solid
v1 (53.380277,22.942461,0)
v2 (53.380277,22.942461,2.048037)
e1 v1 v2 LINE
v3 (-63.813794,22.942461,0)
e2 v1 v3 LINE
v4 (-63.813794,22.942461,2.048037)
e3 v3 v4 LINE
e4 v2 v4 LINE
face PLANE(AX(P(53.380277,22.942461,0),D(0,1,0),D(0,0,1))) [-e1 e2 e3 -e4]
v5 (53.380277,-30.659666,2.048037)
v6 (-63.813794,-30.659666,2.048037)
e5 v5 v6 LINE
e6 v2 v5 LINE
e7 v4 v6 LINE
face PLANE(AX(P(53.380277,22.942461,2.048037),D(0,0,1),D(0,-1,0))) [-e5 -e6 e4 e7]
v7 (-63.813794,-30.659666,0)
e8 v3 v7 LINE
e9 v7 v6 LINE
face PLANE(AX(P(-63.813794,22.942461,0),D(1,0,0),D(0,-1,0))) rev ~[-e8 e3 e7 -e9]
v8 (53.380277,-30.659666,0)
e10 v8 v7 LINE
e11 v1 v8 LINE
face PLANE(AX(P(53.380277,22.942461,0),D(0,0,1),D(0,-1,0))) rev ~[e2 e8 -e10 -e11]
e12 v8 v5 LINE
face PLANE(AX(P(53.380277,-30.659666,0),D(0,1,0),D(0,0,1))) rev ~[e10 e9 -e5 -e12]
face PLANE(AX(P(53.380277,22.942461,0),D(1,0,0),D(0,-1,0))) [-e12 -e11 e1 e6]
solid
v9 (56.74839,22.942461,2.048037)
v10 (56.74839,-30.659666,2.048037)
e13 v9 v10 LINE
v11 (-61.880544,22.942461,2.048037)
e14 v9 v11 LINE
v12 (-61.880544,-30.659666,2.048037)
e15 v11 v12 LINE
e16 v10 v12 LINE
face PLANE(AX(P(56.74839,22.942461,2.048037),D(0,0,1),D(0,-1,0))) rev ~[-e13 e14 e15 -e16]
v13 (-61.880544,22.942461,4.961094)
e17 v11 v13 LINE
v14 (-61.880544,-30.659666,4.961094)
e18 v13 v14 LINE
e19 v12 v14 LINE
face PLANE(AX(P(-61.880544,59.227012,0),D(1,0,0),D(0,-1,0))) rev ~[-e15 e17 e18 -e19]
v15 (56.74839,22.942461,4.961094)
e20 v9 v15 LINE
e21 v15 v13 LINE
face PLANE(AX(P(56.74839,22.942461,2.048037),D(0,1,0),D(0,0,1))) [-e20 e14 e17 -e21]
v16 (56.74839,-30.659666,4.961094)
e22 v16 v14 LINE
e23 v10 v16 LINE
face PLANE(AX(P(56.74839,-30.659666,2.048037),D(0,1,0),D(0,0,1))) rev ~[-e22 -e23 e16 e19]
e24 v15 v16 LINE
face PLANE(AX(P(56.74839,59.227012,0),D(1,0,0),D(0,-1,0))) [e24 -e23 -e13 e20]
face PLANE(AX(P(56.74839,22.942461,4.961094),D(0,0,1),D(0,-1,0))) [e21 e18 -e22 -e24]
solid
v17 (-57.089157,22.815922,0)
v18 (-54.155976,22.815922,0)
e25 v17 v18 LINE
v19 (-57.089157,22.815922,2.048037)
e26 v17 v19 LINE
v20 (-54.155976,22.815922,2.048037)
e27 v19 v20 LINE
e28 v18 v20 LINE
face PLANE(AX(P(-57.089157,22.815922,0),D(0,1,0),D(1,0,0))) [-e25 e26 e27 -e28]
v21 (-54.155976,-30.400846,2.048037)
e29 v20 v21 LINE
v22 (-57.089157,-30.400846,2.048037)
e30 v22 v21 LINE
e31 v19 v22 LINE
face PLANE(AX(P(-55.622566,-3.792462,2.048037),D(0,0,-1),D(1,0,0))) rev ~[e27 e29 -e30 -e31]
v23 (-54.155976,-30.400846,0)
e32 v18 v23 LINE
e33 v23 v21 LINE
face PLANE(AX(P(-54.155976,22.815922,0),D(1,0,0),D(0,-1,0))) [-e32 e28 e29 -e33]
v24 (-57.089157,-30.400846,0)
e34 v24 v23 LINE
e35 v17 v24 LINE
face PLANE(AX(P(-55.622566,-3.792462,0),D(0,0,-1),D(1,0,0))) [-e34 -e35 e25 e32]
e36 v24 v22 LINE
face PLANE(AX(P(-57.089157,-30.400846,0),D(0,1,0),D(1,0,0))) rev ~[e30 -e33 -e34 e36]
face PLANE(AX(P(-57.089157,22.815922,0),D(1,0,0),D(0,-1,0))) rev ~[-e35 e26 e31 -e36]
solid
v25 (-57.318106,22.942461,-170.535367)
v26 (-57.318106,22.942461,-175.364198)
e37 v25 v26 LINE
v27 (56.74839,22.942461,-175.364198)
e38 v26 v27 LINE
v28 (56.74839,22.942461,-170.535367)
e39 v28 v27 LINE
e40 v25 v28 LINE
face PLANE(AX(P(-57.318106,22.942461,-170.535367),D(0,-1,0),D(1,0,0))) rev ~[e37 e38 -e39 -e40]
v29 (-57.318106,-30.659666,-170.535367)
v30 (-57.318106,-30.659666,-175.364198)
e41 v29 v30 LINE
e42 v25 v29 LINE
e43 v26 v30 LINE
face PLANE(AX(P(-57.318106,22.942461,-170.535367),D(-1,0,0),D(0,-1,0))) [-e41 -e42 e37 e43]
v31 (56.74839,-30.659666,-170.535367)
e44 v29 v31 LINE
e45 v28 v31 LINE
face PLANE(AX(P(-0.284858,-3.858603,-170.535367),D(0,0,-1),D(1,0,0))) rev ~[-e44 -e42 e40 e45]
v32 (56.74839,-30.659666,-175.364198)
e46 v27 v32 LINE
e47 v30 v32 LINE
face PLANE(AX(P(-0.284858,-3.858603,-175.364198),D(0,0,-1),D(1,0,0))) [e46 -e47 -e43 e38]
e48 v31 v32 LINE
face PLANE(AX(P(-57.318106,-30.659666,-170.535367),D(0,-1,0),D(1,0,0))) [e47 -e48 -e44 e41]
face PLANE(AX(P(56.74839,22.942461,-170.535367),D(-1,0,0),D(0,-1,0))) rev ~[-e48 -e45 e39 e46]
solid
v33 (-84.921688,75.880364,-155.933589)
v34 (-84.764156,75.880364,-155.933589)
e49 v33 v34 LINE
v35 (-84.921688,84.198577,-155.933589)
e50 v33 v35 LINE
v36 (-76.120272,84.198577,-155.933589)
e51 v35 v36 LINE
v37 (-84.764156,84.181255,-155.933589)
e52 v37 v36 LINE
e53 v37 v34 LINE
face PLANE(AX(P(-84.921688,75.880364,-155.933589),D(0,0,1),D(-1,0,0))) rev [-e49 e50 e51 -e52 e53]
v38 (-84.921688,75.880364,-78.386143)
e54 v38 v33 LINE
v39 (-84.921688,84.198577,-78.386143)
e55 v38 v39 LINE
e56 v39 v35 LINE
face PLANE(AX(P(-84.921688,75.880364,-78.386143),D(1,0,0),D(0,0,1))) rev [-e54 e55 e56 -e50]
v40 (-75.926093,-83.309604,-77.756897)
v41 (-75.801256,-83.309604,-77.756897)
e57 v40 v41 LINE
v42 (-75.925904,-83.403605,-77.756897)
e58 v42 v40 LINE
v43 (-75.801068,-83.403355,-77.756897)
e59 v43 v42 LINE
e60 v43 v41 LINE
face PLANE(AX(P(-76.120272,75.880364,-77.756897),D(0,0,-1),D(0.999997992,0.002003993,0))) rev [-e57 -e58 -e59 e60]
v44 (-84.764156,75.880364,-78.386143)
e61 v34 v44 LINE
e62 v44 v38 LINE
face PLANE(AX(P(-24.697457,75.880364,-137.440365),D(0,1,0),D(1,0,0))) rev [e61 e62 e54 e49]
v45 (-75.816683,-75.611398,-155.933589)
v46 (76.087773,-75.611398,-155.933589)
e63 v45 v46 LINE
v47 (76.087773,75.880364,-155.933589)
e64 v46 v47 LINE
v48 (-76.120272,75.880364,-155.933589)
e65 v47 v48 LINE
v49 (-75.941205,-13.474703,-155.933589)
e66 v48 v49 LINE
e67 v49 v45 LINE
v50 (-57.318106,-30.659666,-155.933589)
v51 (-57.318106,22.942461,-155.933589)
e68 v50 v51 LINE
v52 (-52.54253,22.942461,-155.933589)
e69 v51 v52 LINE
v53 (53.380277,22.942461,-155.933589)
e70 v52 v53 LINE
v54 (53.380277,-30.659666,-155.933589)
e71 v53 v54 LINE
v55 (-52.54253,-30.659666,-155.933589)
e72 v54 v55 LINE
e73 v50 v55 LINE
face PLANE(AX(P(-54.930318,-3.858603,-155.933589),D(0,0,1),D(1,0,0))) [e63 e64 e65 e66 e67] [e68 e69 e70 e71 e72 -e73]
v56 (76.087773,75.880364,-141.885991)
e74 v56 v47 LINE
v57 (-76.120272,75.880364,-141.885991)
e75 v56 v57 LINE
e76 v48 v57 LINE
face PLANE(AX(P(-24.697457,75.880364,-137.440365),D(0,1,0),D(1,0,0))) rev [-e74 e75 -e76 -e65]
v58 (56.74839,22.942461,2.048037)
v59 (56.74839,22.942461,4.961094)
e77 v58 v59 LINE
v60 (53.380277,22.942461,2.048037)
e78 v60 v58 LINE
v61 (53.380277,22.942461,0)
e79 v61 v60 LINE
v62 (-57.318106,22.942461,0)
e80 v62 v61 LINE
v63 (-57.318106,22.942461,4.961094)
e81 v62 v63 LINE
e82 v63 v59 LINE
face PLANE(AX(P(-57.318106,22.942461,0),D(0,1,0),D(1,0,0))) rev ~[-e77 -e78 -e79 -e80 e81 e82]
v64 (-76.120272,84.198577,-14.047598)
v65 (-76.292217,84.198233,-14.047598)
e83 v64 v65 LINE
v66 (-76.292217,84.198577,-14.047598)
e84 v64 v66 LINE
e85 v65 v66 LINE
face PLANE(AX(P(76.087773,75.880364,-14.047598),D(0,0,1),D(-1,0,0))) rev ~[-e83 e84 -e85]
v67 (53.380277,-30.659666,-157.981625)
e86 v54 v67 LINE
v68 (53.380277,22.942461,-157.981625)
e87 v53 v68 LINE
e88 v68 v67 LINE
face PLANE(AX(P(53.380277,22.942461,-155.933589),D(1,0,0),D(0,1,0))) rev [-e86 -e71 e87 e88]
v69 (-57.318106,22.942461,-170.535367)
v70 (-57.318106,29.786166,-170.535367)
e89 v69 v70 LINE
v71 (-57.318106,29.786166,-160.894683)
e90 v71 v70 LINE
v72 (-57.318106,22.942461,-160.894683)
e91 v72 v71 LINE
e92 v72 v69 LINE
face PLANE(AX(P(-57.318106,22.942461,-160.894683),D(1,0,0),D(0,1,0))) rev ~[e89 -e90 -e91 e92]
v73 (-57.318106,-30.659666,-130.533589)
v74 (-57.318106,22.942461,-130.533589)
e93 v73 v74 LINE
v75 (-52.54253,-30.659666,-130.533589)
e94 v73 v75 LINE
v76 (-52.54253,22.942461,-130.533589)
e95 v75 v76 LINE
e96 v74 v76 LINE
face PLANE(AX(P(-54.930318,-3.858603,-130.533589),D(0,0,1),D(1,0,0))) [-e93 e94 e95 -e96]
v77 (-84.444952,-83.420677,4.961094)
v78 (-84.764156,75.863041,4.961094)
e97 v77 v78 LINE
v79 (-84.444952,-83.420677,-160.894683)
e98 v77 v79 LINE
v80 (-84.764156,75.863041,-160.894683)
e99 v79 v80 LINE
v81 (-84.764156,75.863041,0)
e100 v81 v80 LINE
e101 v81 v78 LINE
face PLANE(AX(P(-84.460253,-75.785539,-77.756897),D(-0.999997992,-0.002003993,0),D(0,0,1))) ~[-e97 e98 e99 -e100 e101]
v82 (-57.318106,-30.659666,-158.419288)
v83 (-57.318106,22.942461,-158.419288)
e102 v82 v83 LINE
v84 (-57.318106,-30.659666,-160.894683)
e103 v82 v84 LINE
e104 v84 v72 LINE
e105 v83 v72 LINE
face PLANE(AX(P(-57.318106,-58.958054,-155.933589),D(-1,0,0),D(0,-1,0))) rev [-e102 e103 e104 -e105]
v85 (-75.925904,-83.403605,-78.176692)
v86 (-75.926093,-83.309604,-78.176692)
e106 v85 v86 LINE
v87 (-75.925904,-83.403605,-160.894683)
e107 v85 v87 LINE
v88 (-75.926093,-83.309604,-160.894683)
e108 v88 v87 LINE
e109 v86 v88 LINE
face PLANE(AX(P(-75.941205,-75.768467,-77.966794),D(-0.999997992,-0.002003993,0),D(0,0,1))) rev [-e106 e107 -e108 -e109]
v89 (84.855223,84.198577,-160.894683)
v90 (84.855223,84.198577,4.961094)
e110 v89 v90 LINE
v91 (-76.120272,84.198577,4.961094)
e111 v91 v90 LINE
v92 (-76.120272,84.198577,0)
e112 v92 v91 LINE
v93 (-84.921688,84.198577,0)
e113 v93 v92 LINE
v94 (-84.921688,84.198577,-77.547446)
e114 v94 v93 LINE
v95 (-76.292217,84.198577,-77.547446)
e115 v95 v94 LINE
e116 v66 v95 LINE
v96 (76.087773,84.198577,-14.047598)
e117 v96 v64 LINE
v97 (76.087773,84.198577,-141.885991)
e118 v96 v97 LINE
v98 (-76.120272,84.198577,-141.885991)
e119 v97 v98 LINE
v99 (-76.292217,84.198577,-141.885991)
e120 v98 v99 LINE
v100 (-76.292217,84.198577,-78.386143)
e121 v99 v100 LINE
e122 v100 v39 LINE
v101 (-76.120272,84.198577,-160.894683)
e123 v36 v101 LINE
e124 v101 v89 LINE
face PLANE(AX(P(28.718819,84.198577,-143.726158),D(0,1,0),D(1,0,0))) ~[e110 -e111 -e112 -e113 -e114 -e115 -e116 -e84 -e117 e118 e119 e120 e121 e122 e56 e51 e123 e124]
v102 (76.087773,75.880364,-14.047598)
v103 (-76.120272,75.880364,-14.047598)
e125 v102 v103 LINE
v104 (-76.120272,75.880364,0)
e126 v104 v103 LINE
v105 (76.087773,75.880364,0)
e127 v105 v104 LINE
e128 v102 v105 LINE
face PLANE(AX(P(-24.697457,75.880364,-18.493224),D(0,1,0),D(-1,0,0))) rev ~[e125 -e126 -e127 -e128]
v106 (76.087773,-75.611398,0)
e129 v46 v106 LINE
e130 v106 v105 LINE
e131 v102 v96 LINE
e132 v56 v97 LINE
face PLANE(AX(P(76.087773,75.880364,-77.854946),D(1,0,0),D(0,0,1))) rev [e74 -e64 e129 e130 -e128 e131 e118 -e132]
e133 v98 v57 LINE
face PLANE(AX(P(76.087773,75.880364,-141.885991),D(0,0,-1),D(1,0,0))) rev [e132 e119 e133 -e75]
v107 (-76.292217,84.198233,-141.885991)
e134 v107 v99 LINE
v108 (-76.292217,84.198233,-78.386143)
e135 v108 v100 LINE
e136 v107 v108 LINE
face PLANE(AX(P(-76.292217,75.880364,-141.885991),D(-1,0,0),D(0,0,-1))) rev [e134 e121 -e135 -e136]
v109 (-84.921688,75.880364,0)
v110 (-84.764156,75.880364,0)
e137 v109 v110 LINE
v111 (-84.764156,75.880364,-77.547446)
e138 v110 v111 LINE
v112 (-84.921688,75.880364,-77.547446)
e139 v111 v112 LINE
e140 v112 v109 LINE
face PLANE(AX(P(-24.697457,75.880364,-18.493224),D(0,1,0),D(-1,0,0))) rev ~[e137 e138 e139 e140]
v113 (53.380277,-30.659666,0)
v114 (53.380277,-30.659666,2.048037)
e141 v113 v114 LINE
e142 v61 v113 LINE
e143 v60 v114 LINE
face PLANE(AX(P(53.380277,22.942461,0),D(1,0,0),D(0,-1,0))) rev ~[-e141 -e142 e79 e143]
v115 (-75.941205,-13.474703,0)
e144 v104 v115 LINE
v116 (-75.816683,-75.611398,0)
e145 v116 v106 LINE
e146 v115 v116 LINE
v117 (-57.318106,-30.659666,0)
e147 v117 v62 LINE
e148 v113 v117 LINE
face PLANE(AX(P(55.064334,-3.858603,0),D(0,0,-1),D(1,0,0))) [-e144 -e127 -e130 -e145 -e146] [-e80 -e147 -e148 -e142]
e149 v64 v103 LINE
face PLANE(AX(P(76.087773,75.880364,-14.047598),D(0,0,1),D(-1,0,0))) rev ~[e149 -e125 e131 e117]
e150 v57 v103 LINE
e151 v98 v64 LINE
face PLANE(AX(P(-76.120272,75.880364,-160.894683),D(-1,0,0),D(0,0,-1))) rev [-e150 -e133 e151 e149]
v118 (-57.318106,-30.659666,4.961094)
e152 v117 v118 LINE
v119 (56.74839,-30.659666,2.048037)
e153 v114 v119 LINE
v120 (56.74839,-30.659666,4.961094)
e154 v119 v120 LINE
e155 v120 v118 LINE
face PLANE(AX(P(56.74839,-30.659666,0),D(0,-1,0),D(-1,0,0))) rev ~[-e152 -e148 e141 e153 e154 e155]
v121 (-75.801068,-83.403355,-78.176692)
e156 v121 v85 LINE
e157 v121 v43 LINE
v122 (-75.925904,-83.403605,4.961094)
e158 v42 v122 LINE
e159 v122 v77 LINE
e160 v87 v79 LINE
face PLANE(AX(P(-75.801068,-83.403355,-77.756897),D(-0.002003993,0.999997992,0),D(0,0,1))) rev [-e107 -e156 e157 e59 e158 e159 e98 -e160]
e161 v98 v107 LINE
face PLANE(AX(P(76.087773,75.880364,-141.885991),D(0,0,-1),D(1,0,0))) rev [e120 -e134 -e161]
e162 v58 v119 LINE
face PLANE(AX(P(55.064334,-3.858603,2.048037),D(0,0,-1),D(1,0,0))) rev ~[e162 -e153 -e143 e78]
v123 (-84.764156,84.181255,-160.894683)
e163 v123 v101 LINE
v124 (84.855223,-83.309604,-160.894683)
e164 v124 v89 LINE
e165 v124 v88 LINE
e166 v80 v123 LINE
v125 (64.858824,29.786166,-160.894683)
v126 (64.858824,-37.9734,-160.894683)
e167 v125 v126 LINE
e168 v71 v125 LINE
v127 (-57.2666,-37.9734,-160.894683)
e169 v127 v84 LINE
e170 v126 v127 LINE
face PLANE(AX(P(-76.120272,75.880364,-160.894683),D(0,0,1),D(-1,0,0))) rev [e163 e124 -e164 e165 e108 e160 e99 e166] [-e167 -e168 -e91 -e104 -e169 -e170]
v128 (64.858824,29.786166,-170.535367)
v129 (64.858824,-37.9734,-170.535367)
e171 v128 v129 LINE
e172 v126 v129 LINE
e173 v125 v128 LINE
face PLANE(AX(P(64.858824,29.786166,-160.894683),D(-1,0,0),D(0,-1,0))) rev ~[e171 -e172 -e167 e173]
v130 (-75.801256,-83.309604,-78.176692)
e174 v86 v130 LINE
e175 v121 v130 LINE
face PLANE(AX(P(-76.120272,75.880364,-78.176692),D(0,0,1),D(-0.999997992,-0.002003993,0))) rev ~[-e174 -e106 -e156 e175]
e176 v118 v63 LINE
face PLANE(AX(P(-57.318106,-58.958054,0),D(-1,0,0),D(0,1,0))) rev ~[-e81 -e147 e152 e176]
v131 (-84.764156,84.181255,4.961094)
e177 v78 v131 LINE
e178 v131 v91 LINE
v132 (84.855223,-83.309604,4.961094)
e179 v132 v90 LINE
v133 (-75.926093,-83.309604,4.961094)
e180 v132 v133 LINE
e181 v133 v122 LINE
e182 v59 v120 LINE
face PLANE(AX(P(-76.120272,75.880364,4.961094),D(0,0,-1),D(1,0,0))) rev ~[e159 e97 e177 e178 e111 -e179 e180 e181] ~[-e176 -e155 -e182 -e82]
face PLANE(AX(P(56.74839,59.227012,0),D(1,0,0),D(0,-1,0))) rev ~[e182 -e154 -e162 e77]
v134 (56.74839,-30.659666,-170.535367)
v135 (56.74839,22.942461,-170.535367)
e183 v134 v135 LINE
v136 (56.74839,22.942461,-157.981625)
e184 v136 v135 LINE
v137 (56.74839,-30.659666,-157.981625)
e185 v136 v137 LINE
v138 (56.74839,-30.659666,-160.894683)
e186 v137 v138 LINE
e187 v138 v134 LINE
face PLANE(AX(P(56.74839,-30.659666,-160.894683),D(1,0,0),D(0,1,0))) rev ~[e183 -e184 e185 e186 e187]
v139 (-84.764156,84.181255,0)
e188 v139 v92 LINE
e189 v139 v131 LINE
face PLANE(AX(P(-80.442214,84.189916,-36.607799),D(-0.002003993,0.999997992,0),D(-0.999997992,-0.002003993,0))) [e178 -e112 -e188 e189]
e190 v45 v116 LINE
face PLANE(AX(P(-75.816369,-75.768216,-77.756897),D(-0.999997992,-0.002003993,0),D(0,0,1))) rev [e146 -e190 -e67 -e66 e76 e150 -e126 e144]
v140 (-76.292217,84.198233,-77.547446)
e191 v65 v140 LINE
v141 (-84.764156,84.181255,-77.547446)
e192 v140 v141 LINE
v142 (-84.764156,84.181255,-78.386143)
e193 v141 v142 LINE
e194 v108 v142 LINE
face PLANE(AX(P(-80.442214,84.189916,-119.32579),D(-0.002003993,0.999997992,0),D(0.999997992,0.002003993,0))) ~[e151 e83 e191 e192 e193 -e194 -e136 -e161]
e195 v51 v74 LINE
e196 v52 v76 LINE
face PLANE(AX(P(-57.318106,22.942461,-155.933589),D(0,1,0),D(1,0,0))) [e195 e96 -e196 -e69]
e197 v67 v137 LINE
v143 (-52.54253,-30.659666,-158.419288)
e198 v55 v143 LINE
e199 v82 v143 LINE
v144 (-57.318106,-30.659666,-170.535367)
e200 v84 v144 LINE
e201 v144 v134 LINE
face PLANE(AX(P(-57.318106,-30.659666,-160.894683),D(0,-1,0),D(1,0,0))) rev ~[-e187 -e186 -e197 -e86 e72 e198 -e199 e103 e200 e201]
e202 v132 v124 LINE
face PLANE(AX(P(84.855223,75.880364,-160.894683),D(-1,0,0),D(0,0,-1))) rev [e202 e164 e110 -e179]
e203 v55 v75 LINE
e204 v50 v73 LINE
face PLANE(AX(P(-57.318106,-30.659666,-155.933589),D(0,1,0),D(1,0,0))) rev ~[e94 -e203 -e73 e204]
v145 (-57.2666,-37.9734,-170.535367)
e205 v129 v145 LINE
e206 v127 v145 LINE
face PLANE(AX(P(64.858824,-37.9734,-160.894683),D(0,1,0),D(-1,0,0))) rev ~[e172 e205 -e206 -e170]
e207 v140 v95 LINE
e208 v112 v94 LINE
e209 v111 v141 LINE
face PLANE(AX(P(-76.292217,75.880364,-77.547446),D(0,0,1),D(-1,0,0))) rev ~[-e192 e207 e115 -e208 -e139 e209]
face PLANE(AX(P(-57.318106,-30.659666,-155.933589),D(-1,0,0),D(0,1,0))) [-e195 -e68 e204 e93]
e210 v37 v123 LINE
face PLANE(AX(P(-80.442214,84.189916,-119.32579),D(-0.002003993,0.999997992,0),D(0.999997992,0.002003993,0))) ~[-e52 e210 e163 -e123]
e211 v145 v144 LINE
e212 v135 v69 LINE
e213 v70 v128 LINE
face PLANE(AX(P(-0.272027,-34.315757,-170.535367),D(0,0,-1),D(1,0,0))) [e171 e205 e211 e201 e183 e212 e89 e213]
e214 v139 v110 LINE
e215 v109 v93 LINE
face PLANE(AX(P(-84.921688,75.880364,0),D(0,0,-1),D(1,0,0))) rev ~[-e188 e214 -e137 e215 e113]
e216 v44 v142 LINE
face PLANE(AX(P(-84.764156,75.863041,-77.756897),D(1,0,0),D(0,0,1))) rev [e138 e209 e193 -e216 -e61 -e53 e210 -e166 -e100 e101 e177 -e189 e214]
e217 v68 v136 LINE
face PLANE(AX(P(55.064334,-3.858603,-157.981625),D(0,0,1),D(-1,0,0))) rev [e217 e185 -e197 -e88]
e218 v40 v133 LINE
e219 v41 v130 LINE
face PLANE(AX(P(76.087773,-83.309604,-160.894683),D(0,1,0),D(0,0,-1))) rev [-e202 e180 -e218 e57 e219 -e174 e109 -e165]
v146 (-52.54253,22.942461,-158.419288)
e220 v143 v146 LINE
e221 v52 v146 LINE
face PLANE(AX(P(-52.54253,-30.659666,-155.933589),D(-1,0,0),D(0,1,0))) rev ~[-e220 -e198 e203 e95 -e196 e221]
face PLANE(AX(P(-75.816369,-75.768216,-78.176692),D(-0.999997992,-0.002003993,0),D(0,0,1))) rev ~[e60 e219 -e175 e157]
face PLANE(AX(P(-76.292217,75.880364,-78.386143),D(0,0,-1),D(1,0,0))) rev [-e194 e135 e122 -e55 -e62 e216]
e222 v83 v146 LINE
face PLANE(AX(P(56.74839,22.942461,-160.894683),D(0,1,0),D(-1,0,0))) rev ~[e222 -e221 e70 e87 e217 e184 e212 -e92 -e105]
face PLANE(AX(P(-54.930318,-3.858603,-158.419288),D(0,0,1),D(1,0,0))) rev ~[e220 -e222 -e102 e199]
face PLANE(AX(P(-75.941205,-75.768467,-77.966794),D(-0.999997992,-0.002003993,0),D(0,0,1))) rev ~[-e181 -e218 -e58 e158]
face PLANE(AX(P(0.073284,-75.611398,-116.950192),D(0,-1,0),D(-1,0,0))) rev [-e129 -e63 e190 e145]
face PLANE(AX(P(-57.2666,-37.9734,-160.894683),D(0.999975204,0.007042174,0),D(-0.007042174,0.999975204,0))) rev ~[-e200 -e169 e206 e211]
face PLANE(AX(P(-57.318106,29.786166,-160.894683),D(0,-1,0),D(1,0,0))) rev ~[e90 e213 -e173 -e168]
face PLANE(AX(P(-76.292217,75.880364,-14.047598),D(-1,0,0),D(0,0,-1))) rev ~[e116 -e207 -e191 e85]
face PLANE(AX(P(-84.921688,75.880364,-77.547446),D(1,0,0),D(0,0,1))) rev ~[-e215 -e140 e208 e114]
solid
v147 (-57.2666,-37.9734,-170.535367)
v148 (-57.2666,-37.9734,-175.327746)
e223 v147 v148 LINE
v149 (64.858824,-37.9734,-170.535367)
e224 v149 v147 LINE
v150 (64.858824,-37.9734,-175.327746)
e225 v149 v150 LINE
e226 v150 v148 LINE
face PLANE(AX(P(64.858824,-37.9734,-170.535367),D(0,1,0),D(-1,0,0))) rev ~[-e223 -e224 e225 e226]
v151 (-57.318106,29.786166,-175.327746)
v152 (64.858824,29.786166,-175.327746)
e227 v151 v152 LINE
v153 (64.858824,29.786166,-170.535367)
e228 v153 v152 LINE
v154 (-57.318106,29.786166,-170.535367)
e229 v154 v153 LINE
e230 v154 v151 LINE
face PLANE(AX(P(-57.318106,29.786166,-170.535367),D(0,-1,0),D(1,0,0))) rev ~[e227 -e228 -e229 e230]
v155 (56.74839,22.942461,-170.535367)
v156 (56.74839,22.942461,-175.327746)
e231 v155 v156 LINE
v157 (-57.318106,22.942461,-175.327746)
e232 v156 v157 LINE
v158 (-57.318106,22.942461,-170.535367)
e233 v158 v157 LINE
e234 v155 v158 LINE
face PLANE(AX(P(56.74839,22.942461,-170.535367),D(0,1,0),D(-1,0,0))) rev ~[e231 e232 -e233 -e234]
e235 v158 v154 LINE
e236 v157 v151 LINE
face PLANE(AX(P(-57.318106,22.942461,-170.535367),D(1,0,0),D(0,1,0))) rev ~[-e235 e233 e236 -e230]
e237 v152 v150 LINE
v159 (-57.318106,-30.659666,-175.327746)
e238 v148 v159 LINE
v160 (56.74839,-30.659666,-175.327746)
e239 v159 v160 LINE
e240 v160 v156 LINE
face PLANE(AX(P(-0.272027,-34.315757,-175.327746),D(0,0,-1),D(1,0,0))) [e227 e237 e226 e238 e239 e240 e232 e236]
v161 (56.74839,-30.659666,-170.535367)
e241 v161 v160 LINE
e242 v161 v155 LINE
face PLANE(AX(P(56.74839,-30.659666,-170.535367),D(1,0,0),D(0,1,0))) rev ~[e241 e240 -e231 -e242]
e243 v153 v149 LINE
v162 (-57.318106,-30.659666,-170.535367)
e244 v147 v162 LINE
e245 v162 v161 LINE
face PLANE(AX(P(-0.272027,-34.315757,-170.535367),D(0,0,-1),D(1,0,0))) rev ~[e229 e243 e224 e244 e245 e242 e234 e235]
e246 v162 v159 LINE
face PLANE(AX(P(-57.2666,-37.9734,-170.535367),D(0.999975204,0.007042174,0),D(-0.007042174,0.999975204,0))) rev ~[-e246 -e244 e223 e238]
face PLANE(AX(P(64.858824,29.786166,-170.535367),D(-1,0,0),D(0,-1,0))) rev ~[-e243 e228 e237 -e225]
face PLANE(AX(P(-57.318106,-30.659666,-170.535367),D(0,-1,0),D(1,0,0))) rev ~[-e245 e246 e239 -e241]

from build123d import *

# Parameters (mm, degrees)
F1_DEPTH       = 4.9610938877
F2_DEPTH       = 36.2845510244
F3_DEPTH       = 28.2983873039
F6_W           = 152.0289778709
F6_H           = 77.9667943716
F6_H_2         = 4.9610938877
F7_DEPTH       = 7.698206231
F5_W           = 89.3552458436
F5_H           = 4.9610938877
F8_DEPTH       = 8.6439009756
F4_W           = 151.4917612076
F4_H           = 78.0786424875
F4_H_2         = 4.9610938877
F9_DEPTH       = 8.7674502283
F11_DEPTH      = 7.6351538301
F14_DEPTH      = 8.318213746
F16_W          = 2.9331818223
F16_H          = 53.2167684287
F17_DEPTH      = 2.0480365492
F15_W          = 3.3681131899
F15_H          = 53.6021273583
F19_DEPTH      = 117.1940714121
F20_DEPTH      = 118.6289340258
F22_DEPTH      = 9.6406843513
F23_W          = 114.0664964914
F23_H          = 53.6021273583
F24_DEPTH      = 4.8288311809
F25_DEPTH      = 4.7923792154
F26_W          = 4.7755762935
F26_H          = 53.6021273583
F27_DEPTH      = 2.485699486
F27_DEPTH_BACK = 25.4


with BuildPart() as f1:
    # F0 (on Top) → F1 (new body)
    with BuildSketch(Plane.XY):
        Polygon((-76.1202722788, 75.8803635836), (-75.9412050247, -13.4747028351), (-75.9412050247, -75.611397624), (76.0877728462, -75.611397624), (76.0877728462, 75.8803635836), align=None)
        Polygon((-57.3181062937, -58.9580535889), (-57.3181062937, -13.4747028351), (-57.3181062937, 59.2270120978), (56.7483901978, 59.2270120978), (56.7483901978, -58.9580535889), align=None, mode=Mode.SUBTRACT)
    extrude(amount=F1_DEPTH)

    # F2 (add): a face of the model
    f2_faces = [f1.faces().sort_by_distance(p)[0] for p in [
        (-0.284858048, 59.2270120978, 2.4805469438),
    ]]
    extrude(f2_faces, amount=F2_DEPTH)

    # F3 (add): a face of the model
    f3_faces = [f1.faces().sort_by_distance(p)[0] for p in [
        (-0.284858048, -58.9580535889, 2.4805469438),
    ]]
    extrude(f3_faces, amount=F3_DEPTH)

    # F6 (on face) → F7 (join)
    with BuildSketch(Plane.XZ.offset(75.611397624)):
        with Locations((0.0732839108, -38.9833971858)):
            Rectangle(F6_W, F6_H)
        with Locations((0.0732839108, 2.4805469438)):
            Rectangle(F6_W, F6_H_2)
    extrude(amount=F7_DEPTH)

    # F5 (on face) → F8 (join)
    with BuildSketch(Plane(origin=(-75.9679031968, -0.1522394238, 0), x_dir=(0.0020039926, -0.999997992, 0), z_dir=(-0.999997992, -0.0020039926, 0))):
        Polygon((75.6161287427, 4.9610938877), (13.3224901628, 4.9610938877), (13.3224901628, 0), (-76.0327556807, 0), (-76.0327556807, -78.1766921282), (75.6161287427, -78.1766921282), align=None)
        with Locations((-31.355132759, 2.4805469438)):
            Rectangle(F5_W, F5_H)
    extrude(amount=F8_DEPTH)

    # F4 (on face) + F7_face (on face) → F9 (join)
    with BuildSketch(Plane.YZ.offset(76.0877728462)):
        with Locations((0.1344829798, -39.0393212438)):
            Rectangle(F4_W, F4_H)
        with Locations((0.1344829798, 2.4805469438)):
            Rectangle(F4_W, F4_H_2)
    with BuildSketch(Plane(origin=(76.0877728462, -36.4227471096, -15.4241620465), x_dir=(0, 1, 0), z_dir=(1, 0, 0))):
        Polygon((112.3031106931, 15.4241620465), (112.3031106931, 20.3852559342), (-46.8868567455, 20.3852559342), (-46.8868567455, -62.5426323251), (-39.1886505145, -62.5426323251), (-39.1886505145, 15.4241620465), align=None)
    extrude(amount=F9_DEPTH)

    # F11 (add): a face of the model
    f11_faces = [f1.faces().sort_by_distance(p)[0] for p in [
        (-80.2005689479, -75.7770022516, -36.6093330754),
    ]]
    extrude(f11_faces, amount=F11_DEPTH)

    # F12 (on face) + F13 (on face) + F8_face1 (on face) → F14 (join)
    with BuildSketch(Plane(origin=(0, 75.8803635836, 0), x_dir=(-1, 0, 0), z_dir=(0, 1, 0))):
        Polygon((-76.0877728462, 0), (76.1202722788, 0), (76.1202722788, 4.9610938877), (-84.8552230746, 4.9610938877), (-84.8552230746, -78.0786424875), (-76.0877728462, -78.0786424875), align=None)
    with BuildSketch(Plane(origin=(0, 75.8803635836, 0), x_dir=(-1, 0, 0), z_dir=(0, 1, 0))):
        Polygon((76.1202722788, 0), (0, 0), (-76.0877728462, 0), (-76.0877728462, -14.047597535), (76.2922167778, -14.047597535), (76.2922167778, -77.5474458933), (84.9216878414, -77.5474458933), (84.9216878414, 0), align=None)
    with BuildSketch(Plane(origin=(-80.4422140881, 75.8717024266, -36.6077991202), x_dir=(-0.999997992, -0.0020039926, 0), z_dir=(-0.0020039926, 0.999997992, 0))):
        Polygon((4.3219504878, 41.5688930079), (-4.3219504878, 41.5688930079), (-4.3219504878, 36.6077991202), (-4.3219504878, -41.5688930079), (4.3219504878, -41.5688930079), align=None)
    extrude(amount=F14_DEPTH, dir=(0, 1, 0))

    # F15 (on face) → F17, piece 2 (join)
    with BuildSketch(Plane(origin=(0, 0, 0), x_dir=(1, 0, 0), z_dir=(0, 0, -1))):
        with Locations((55.0643336028, 3.8586026058)):
            Rectangle(F15_W, F15_H)
    extrude(amount=-F17_DEPTH)

    # F18: F1 across face


with BuildPart() as f17:
    # F16 (on face) → F17 (new body)
    with BuildSketch(Plane(origin=(0, 0, 0), x_dir=(1, 0, 0), z_dir=(0, 0, -1))):
        with Locations((-55.6225664914, 3.7924619392)):
            Rectangle(F16_W, F16_H)
    extrude(amount=-F17_DEPTH)


with BuildPart() as f1_1:
    add(f1.part)
    add(f1.part.mirror(Plane(origin=(4.5231266223, -79.4604391402, -77.9667943716), x_dir=(1, 0, 0), z_dir=(0, 0, -1))))


with BuildPart() as f19:
    # F19 (new): a face of the model
    f19_faces = [f1_1.part.faces().sort_by_distance(p)[0] for p in [
        (53.3802770078, -3.8586026058, 1.0240182746),
    ]]
    extrude(f19_faces, amount=F19_DEPTH)


with BuildPart() as f20:
    # F20 (new): a face of the model
    f20_faces = [f1_1.part.faces().sort_by_distance(p)[0] for p in [
        (56.7483901978, -3.8586026058, 3.5045652185),
    ]]
    extrude(f20_faces, amount=F20_DEPTH)


with BuildPart() as f1_2:
    add(f1_1.part)

    # F21 (on face) → F22 (join)
    with BuildSketch(Plane(origin=(0, 0, -160.8946826309), x_dir=(1, 0, 0), z_dir=(0, 0, -1))):
        Polygon((-57.3181062937, 30.6596662849), (56.7483901978, 30.6596662849), (56.7483901978, 37.9734002054), (-57.26660043, 37.9734002054), align=None)
        Polygon((56.7483901978, 37.9734002054), (56.7483901978, 30.6596662849), (56.7483901978, -22.9424610734), (-57.3181062937, -22.9424610734), (-57.3181062937, -29.7861658037), (64.8588240147, -29.7861658037), (64.8588240147, 37.9734002054), align=None)
    extrude(amount=F22_DEPTH)


with BuildPart() as f24:
    # F23 (on face) → F24 (new body)
    with BuildSketch(Plane(origin=(0, 0, -170.5353669822), x_dir=(1, 0, 0), z_dir=(0, 0, -1))):
        with Locations((-0.284858048, 3.8586026058)):
            Rectangle(F23_W, F23_H)
    extrude(amount=F24_DEPTH)


with BuildPart() as f25:
    # F25 (new): a face of the model
    f25_faces = [f1_2.part.faces().sort_by_distance(p)[0] for p in [
        (-0.284858048, -32.0567547247, -170.5353669822),
    ]]
    extrude(f25_faces, amount=F25_DEPTH)


with BuildPart() as f1_3:
    add(f1_2.part)

    # F26 (on face) → F27 (join, two sides)
    with BuildSketch(Plane.XY.offset(-155.9335887432)) as f27_sk:
        with Locations((-54.9303181469, -3.8586026058)):
            Rectangle(F26_W, F26_H)
    extrude(amount=-F27_DEPTH)
    extrude(f27_sk.sketch, amount=F27_DEPTH_BACK)


solid = Compound([f17.part, f19.part, f20.part, f24.part, f25.part, f1_3.part])
